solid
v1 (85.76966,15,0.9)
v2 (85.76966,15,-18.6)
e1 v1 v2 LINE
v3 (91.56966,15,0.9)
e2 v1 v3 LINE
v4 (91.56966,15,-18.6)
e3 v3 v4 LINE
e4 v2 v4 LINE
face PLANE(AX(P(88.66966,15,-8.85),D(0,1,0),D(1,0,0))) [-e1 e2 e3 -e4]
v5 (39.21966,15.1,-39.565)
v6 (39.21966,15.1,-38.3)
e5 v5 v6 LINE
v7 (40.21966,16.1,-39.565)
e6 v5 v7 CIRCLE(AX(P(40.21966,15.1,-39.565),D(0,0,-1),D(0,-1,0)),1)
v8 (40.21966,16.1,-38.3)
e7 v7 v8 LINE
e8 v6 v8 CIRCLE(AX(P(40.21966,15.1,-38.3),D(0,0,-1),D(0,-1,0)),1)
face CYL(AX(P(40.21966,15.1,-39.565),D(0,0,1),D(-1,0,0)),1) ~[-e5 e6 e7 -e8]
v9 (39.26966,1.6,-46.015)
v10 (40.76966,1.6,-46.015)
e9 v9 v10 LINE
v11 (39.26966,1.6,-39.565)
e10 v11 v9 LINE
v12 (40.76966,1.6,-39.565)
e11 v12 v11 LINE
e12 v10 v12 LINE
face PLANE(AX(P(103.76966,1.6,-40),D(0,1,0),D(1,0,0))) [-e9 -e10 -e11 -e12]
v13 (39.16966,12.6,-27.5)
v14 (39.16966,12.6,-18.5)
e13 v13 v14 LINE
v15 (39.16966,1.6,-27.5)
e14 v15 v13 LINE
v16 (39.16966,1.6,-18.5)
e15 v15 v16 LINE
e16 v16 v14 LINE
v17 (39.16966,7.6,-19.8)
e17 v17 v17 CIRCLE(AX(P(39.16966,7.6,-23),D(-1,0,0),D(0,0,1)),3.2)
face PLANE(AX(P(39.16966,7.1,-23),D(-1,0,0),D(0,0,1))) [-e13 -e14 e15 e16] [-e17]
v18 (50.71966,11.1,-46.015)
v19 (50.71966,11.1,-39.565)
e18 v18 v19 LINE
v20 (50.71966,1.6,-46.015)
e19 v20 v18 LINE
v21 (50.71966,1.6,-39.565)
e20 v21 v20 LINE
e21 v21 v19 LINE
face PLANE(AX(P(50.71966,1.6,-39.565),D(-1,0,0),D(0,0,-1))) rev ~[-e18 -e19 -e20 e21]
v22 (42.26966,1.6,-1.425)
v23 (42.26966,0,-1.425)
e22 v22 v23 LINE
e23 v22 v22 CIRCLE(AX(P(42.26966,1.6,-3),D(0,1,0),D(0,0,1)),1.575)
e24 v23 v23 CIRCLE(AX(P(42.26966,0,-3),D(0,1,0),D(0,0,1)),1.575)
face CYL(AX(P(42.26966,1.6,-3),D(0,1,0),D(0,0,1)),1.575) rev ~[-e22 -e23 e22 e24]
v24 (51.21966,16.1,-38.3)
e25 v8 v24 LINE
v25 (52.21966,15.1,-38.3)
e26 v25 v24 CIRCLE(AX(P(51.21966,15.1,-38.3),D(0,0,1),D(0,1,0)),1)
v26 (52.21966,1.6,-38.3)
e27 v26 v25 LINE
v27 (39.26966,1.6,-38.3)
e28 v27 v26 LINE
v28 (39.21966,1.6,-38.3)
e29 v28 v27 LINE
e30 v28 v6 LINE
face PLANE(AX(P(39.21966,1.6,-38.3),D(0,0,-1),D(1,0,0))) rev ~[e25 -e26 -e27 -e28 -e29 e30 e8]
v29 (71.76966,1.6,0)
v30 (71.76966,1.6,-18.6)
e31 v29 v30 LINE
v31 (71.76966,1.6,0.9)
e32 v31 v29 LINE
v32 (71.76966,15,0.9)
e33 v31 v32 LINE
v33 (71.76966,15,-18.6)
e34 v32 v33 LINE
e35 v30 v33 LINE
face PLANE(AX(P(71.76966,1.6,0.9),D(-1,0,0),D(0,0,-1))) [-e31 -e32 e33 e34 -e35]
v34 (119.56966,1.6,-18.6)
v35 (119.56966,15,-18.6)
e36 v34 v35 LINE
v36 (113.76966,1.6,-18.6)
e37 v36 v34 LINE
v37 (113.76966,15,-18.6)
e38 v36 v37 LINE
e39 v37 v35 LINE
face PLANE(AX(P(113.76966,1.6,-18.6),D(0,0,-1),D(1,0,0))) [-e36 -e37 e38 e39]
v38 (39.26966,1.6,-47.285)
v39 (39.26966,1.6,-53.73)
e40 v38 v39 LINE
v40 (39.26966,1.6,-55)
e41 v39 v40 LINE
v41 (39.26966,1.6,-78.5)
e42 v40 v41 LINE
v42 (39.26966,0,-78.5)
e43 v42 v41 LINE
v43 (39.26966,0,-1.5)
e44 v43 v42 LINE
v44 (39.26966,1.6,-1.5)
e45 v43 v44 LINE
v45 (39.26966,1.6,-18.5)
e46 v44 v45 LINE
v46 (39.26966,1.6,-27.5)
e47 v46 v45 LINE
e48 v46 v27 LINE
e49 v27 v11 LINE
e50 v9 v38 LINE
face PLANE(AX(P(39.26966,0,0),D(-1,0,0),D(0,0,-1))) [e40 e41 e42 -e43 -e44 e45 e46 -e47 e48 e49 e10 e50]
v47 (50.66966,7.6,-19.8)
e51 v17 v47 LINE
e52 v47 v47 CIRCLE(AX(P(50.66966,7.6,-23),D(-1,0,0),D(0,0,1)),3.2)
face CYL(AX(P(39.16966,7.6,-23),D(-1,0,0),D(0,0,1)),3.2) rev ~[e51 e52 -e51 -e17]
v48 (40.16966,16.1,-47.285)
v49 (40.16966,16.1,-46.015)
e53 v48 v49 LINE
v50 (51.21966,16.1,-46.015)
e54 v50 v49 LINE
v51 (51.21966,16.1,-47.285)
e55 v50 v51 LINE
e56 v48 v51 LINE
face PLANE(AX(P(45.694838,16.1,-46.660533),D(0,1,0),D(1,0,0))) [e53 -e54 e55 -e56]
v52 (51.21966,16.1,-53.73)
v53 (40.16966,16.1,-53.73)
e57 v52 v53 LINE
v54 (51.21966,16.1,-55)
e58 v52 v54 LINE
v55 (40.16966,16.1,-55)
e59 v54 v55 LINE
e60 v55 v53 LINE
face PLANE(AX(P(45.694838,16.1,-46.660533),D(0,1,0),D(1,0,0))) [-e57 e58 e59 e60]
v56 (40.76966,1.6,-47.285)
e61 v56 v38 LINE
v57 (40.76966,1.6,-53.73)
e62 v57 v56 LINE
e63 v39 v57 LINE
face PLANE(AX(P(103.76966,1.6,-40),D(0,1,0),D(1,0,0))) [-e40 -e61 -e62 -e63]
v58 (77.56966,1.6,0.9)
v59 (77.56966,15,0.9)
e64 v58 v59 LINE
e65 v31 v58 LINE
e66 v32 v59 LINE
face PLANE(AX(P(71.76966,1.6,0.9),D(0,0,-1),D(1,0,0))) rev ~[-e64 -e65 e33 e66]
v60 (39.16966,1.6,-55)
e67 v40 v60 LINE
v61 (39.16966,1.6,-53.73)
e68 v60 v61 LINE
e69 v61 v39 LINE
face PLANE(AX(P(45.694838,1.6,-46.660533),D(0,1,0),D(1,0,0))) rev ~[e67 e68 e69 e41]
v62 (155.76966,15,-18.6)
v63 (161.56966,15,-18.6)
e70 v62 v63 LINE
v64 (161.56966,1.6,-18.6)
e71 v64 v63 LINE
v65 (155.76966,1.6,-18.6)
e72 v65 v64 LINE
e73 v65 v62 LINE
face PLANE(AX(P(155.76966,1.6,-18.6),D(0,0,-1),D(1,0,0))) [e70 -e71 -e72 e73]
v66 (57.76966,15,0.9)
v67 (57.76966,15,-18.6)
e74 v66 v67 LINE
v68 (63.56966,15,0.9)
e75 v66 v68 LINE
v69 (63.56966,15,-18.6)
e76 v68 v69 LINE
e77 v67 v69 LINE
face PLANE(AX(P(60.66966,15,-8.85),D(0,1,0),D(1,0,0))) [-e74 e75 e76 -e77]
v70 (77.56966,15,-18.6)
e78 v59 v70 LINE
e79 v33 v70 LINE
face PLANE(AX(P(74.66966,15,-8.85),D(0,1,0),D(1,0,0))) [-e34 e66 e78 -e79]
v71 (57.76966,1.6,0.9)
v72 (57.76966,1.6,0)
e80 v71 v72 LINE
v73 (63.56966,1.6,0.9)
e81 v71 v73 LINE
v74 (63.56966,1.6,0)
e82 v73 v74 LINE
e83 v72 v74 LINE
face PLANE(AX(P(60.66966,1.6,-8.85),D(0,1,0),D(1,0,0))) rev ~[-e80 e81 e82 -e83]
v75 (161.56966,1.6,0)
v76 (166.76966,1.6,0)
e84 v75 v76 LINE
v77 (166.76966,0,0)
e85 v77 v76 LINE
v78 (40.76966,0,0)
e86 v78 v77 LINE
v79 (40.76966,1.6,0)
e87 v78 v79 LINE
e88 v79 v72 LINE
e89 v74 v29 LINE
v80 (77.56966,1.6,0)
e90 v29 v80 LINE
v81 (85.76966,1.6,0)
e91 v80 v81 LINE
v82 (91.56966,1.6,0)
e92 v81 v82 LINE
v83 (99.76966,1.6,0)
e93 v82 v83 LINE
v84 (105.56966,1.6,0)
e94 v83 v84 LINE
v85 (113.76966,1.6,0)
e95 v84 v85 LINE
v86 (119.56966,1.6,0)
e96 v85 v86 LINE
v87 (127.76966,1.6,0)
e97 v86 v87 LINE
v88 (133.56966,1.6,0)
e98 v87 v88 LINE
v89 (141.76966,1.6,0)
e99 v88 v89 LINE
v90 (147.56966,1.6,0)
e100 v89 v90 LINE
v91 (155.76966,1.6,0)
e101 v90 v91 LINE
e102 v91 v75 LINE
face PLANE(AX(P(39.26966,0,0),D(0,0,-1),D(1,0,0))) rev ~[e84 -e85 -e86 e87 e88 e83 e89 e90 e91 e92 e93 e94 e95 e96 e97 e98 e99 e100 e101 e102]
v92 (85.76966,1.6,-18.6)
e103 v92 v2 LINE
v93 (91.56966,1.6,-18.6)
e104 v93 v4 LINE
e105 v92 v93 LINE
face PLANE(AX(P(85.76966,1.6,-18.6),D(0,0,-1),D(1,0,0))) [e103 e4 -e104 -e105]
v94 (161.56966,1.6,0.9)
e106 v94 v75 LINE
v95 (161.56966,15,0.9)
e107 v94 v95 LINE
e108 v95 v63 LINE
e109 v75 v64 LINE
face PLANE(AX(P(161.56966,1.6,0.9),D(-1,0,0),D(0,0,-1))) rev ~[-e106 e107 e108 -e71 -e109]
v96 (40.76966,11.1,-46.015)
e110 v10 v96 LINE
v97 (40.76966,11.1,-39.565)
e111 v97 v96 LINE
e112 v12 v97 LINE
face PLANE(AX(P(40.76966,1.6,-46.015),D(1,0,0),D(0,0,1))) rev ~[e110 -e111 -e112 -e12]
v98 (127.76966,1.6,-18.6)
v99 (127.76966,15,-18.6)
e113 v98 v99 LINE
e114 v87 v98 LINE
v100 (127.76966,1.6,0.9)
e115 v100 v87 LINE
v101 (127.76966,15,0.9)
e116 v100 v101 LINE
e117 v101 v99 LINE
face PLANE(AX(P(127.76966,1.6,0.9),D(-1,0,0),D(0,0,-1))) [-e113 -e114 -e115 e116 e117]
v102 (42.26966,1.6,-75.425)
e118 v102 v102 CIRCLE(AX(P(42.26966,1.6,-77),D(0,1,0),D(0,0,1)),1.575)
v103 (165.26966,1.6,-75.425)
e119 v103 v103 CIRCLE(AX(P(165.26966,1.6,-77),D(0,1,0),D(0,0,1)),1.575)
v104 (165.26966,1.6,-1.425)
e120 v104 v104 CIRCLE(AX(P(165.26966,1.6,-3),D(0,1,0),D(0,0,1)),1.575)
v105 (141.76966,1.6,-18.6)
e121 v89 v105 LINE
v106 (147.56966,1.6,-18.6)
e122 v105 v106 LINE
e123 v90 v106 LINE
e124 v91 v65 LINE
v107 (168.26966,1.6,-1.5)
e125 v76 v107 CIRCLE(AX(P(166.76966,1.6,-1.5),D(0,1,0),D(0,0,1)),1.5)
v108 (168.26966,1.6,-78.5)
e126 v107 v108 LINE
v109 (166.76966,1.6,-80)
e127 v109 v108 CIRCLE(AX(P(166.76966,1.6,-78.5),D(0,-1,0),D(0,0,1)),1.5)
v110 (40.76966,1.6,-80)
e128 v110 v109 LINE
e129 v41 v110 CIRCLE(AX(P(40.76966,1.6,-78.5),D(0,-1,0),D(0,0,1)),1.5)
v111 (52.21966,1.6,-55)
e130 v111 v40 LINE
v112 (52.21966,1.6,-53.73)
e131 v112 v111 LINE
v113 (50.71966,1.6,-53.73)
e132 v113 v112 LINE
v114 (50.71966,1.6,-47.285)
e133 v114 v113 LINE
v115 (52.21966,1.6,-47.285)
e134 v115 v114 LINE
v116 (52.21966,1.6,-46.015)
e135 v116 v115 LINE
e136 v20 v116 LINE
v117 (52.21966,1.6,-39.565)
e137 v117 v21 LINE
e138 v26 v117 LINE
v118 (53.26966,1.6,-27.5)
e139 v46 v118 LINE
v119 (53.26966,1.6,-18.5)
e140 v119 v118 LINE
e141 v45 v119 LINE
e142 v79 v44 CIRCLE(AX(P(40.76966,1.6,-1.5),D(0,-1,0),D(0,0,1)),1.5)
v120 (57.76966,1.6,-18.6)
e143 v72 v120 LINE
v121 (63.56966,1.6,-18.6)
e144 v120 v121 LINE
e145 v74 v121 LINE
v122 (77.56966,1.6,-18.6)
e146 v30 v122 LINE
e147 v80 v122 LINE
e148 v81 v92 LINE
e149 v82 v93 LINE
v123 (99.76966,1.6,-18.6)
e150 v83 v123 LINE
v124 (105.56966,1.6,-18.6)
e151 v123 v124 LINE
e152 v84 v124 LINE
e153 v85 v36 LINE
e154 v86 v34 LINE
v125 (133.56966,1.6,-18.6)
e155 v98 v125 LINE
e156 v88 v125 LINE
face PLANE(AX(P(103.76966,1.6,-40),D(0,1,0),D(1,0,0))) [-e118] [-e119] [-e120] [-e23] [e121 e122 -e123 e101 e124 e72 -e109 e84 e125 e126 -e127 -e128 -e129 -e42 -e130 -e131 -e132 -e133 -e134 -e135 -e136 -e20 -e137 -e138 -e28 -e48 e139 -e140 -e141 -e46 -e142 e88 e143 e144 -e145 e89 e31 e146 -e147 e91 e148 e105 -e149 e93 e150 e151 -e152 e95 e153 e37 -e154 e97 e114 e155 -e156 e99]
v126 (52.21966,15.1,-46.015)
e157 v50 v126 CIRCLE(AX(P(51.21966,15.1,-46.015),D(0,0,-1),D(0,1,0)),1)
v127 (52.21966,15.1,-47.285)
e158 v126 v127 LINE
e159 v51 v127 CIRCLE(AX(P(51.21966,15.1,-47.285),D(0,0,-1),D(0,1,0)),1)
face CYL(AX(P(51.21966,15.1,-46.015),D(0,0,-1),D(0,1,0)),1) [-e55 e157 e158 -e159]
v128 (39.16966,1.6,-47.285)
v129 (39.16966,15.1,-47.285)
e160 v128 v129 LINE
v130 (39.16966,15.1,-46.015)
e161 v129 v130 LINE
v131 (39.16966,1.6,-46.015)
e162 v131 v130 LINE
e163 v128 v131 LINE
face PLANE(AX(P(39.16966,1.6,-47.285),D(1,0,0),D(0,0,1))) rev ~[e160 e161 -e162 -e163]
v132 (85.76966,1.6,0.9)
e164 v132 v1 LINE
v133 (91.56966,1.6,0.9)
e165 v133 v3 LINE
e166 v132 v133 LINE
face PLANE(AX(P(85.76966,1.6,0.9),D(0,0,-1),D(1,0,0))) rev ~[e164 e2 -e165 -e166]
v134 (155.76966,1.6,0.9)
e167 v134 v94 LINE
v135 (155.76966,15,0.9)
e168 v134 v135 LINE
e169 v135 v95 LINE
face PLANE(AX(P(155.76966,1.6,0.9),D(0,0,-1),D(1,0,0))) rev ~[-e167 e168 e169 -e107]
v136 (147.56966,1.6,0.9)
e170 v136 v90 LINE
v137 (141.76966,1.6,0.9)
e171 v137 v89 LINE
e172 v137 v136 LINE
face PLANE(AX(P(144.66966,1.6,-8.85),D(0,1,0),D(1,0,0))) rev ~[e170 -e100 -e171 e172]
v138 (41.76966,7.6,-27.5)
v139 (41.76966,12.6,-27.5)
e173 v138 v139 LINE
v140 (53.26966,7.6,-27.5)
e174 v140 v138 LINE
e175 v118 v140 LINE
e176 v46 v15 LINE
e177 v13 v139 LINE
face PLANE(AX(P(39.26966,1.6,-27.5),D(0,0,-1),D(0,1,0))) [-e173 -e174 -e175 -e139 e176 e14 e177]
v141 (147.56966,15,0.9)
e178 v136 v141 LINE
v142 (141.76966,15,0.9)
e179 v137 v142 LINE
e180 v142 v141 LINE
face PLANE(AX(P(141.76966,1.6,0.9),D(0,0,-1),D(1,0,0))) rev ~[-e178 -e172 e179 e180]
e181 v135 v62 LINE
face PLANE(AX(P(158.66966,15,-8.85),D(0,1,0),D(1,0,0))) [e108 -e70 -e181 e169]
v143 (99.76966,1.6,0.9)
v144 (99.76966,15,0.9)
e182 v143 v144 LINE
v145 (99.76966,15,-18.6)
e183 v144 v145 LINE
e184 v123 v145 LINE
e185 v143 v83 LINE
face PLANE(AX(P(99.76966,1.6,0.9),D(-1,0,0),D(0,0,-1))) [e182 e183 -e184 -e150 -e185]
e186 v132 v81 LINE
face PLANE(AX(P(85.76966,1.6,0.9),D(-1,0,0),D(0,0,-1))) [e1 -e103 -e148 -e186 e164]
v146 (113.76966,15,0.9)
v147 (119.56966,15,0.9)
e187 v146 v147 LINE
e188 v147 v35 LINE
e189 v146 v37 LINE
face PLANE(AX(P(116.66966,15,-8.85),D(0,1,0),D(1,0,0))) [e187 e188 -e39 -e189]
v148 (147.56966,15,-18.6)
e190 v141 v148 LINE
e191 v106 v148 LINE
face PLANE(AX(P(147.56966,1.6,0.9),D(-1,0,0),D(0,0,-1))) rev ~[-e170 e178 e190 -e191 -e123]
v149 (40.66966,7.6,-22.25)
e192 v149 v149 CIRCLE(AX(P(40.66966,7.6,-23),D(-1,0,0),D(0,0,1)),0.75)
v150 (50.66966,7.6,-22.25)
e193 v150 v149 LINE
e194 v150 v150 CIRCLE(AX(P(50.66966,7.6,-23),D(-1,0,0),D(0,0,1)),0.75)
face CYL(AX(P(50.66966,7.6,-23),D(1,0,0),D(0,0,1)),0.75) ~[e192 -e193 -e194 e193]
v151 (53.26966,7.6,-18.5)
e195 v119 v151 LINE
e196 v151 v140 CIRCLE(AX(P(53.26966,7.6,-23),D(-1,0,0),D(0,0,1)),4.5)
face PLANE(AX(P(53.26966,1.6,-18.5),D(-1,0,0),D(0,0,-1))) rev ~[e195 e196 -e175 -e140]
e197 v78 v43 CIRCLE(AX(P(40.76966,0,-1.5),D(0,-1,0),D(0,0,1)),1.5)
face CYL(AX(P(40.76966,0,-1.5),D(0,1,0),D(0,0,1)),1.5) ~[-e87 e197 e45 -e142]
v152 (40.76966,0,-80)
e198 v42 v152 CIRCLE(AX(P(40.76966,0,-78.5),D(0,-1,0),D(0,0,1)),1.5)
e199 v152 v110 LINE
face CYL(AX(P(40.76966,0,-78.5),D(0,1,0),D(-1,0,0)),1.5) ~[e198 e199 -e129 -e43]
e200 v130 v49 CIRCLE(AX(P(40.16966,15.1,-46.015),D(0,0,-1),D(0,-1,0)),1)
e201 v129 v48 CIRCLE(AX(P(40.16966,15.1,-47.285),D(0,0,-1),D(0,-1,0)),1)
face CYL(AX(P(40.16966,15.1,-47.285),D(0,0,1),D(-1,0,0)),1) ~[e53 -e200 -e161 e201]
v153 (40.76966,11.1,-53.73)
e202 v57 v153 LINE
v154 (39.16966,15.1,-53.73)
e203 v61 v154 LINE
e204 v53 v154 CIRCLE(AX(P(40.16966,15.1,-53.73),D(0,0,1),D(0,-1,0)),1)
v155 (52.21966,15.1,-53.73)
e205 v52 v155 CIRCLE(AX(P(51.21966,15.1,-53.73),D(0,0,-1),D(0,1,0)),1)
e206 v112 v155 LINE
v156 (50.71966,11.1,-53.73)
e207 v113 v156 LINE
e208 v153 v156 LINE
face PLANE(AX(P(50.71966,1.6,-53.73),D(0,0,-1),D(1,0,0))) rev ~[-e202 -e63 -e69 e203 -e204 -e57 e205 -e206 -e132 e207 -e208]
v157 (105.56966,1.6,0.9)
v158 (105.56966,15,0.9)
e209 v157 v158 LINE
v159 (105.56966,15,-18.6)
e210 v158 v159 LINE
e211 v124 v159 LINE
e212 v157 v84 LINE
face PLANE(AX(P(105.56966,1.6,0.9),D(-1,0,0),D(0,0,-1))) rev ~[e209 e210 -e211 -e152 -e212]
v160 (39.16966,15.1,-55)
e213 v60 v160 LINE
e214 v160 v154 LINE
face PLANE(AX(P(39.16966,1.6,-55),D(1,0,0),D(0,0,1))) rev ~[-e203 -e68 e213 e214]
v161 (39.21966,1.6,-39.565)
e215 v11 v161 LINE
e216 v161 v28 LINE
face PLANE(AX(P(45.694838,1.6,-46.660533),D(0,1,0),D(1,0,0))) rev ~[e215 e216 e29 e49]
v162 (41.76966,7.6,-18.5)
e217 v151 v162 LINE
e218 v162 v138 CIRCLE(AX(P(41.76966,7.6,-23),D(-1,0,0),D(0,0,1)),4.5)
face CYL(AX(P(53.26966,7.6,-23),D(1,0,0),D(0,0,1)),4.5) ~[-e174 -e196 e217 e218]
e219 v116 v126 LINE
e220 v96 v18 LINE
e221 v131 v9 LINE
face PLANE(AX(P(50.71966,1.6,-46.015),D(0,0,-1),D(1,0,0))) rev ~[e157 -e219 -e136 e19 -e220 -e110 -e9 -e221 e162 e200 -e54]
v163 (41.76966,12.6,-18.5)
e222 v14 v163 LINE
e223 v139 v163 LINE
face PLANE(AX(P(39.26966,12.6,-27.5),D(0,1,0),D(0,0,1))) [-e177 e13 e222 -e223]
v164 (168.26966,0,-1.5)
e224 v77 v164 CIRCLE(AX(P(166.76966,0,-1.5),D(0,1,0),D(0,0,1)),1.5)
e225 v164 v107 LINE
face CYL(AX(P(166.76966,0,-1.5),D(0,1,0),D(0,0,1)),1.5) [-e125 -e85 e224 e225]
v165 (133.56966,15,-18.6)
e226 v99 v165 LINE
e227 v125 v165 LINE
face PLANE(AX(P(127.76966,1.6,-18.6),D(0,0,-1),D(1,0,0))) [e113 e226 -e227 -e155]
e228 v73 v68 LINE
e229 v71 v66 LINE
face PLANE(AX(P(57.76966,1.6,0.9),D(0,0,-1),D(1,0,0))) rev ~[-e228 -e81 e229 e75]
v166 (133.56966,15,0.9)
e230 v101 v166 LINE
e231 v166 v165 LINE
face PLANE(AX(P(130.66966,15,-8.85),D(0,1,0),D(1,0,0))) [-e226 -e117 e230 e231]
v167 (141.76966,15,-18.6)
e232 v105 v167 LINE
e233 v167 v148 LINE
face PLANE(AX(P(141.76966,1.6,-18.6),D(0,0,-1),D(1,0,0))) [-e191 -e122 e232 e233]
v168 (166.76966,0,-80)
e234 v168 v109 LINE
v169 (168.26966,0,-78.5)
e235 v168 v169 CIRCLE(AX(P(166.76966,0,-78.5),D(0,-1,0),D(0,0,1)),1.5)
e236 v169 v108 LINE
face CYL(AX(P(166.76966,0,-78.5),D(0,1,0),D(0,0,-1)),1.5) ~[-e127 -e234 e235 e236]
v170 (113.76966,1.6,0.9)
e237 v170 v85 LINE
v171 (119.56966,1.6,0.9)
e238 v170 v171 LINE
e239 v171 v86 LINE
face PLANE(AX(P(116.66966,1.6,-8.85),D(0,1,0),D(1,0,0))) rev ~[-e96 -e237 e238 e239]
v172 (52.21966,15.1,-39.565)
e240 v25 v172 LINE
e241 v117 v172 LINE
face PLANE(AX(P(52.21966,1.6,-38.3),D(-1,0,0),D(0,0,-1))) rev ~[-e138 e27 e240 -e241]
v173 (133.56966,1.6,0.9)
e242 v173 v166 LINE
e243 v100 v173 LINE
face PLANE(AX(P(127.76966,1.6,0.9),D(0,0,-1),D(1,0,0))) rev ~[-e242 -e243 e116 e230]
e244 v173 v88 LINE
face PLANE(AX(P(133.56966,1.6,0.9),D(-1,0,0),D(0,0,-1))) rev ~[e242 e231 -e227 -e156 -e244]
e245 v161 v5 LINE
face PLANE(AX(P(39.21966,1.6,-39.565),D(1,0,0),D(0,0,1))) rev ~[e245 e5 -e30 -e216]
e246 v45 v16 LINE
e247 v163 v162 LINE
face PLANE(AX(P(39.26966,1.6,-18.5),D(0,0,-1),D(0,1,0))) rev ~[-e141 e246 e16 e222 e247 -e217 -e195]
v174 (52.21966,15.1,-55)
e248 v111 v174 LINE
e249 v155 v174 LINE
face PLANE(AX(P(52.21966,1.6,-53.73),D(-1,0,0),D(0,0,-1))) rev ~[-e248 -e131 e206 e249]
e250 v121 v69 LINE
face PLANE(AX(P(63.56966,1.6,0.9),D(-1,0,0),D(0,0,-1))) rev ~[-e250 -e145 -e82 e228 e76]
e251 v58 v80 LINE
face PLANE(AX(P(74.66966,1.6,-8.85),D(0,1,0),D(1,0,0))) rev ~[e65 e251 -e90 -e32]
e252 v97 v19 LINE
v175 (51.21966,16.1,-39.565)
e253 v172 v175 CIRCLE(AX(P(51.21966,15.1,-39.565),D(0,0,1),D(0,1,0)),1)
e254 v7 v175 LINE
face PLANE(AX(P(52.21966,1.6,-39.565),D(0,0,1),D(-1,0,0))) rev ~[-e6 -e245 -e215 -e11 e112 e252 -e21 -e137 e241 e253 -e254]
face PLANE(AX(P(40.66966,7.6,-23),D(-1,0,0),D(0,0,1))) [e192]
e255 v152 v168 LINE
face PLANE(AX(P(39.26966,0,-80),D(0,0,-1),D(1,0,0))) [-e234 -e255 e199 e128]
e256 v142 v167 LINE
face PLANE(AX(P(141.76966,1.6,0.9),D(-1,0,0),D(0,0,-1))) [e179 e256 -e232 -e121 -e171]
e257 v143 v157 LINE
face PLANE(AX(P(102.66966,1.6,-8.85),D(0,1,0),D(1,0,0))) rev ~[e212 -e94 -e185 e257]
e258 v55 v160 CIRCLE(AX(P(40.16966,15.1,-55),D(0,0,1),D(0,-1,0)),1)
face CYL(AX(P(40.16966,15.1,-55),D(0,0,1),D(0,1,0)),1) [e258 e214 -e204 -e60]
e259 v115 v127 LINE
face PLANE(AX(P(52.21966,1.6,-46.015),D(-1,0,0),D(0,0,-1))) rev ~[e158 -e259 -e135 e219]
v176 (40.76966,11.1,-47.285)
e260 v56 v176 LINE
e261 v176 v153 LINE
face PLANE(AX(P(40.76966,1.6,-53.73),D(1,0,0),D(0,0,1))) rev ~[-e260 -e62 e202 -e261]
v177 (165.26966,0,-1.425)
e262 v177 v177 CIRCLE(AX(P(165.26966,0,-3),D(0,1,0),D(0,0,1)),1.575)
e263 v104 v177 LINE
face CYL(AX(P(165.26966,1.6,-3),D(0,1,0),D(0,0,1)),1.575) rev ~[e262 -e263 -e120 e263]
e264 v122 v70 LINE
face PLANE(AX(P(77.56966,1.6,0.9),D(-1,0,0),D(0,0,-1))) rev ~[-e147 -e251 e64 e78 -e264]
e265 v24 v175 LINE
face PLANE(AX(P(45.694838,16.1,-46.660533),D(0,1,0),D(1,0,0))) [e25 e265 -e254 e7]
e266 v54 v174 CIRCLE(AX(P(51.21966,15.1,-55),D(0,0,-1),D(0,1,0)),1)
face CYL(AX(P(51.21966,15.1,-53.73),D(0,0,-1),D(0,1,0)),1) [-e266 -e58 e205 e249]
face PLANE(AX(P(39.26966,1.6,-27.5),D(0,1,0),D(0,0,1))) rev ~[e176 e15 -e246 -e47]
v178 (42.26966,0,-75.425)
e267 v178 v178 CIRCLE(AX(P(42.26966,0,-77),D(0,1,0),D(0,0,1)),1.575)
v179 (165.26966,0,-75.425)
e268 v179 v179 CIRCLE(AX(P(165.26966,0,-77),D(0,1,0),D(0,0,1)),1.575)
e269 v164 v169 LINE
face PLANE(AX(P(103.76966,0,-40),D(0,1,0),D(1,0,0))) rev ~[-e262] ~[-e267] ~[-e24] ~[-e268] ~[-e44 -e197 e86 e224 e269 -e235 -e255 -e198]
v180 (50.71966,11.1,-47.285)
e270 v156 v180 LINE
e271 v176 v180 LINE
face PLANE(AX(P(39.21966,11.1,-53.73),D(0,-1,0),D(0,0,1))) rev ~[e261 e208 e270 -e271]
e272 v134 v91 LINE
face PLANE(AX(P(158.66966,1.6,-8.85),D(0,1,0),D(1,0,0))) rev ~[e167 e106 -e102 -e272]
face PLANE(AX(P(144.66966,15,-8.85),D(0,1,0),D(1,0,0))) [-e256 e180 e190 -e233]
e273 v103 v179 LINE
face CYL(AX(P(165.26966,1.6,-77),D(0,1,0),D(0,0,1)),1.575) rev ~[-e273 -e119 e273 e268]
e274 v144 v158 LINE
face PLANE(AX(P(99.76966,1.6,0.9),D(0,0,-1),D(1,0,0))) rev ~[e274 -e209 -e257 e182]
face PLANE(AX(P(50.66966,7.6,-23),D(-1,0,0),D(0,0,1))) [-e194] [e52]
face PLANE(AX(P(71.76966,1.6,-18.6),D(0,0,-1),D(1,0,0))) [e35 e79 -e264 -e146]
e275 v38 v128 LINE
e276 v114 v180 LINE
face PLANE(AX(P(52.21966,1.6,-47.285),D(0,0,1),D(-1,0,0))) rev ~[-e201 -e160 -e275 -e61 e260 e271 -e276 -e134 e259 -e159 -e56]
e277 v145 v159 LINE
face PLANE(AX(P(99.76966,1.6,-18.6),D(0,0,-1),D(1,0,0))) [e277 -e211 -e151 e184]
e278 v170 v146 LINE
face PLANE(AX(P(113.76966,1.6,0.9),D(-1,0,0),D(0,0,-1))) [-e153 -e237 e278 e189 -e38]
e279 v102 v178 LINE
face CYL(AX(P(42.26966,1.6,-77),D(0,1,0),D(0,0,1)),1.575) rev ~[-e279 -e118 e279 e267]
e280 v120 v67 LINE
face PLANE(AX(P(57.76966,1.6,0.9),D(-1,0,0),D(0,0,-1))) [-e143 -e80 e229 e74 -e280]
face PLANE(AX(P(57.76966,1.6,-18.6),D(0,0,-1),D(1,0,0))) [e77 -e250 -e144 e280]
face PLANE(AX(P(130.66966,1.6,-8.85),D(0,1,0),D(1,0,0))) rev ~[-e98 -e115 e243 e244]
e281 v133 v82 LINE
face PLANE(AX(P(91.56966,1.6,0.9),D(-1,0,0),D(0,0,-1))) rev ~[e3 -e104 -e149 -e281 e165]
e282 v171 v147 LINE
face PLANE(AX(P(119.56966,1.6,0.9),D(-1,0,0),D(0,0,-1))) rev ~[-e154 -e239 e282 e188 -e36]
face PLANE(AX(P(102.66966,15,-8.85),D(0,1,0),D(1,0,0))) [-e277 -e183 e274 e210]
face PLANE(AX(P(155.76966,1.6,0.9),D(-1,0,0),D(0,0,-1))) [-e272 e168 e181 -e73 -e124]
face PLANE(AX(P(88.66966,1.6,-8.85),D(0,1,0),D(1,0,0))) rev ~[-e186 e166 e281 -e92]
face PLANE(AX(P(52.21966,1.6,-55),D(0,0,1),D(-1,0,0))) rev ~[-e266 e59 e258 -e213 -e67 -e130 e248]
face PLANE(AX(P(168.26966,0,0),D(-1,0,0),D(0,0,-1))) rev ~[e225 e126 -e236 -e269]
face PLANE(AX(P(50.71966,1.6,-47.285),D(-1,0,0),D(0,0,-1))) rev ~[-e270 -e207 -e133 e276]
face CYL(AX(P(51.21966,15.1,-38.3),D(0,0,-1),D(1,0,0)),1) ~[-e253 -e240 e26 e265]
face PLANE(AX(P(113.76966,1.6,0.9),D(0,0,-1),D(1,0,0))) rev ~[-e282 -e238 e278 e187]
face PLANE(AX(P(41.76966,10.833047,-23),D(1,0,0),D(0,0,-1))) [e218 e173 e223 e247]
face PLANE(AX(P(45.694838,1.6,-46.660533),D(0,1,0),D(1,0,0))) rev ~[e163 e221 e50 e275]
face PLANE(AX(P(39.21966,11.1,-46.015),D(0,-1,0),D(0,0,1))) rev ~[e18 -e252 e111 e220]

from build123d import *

# Parameters (mm, degrees)
SKETCH_1_W          = 129
SKETCH_1_H          = 80
EXTRUDE_1_DEPTH     = 1.6
SKETCH_2_R          = 1.575
CUT_EXTRUDE_1_DEPTH = 187.325625148
SKETCH_3_W          = 5.8
SKETCH_3_H          = 19.5
EXTRUDE_2_DEPTH     = 13.4
FILLET_1_R          = 1.5
SKETCH_4_W          = 14
SKETCH_4_H          = 9
EXTRUDE_3_DEPTH     = 11
SKETCH_5_W          = 9
SKETCH_5_H          = 11
EXTRUDE_4_DEPTH     = 0.1
CUT_EXTRUDE_2_DEPTH = 11.5
SKETCH_7_R          = 3.2
CUT_EXTRUDE_3_DEPTH = 11.5
SKETCH_8_R          = 0.75
EXTRUDE_5_DEPTH     = 10
EXTRUDE_6_DEPTH     = 14.5
SKETCH_10_W         = 6.45
SKETCH_10_H         = 5
SKETCH_10_W_2       = 6.445
CUT_EXTRUDE_4_DEPTH = 14.5
FILLET_2_R          = 1


with BuildPart() as part:
    # 草图1 → 凸台-拉伸1 (new body)
    with BuildSketch(Plane(origin=(0, 0, 0), x_dir=(1, 0, 0), z_dir=(0, 1, 0))):
        with Locations((103.769660327, 40)):
            Rectangle(SKETCH_1_W, SKETCH_1_H)
    extrude(amount=EXTRUDE_1_DEPTH)

    # 草图2 → 切除-拉伸1 (cut, through all)
    with BuildSketch(Plane(origin=(0, 1.6, 0), x_dir=(1, 0, 0), z_dir=(0, 1, 0))):
        with Locations(Location((42.269660327, 77, 0), (0, 0, 270))):
            Circle(SKETCH_2_R)
        with Locations(Location((42.269660327, 3, 0), (0, 0, 270))):
            Circle(SKETCH_2_R)
        with Locations(Location((165.269660327, 3, 0), (0, 0, 270))):
            Circle(SKETCH_2_R)
        with Locations(Location((165.269660327, 77, 0), (0, 0, 270))):
            Circle(SKETCH_2_R)
    extrude(amount=-CUT_EXTRUDE_1_DEPTH, mode=Mode.SUBTRACT)

    # 草图3 → 凸台-拉伸2 (add)
    with BuildSketch(Plane(origin=(0, 1.6, 0), x_dir=(1, 0, 0), z_dir=(0, 1, 0))):
        with Locations((158.669660327, 8.85)):
            Rectangle(SKETCH_3_W, SKETCH_3_H)
        with Locations((144.669660327, 8.85)):
            Rectangle(SKETCH_3_W, SKETCH_3_H)
        with Locations((130.669660327, 8.85)):
            Rectangle(SKETCH_3_W, SKETCH_3_H)
        with Locations((116.669660327, 8.85)):
            Rectangle(SKETCH_3_W, SKETCH_3_H)
        with Locations((102.669660327, 8.85)):
            Rectangle(SKETCH_3_W, SKETCH_3_H)
        with Locations((88.669660327, 8.85)):
            Rectangle(SKETCH_3_W, SKETCH_3_H)
        with Locations((74.669660327, 8.85)):
            Rectangle(SKETCH_3_W, SKETCH_3_H)
        with Locations((60.669660327, 8.85)):
            Rectangle(SKETCH_3_W, SKETCH_3_H)
    extrude(amount=EXTRUDE_2_DEPTH)

    # 圆角1
    fillet_1_edges = [part.edges().sort_by_distance(p)[0] for p in [
        (168.269660327, 0.8, -80),
        (168.269660327, 0.8, 0),
        (39.269660327, 0.8, 0),
        (39.269660327, 0.8, -80),
    ]]
    fillet(fillet_1_edges, radius=FILLET_1_R)

    # 草图4 → 凸台-拉伸3 (add)
    with BuildSketch(Plane(origin=(0, 1.6, 0), x_dir=(1, 0, 0), z_dir=(0, 1, 0))):
        with Locations((46.269660327, 23)):
            Rectangle(SKETCH_4_W, SKETCH_4_H)
    extrude(amount=EXTRUDE_3_DEPTH)

    # 草图5 → 凸台-拉伸4 (add)
    with BuildSketch(Plane.ZY.offset(-39.269660327)):
        with Locations((-23, 7.1)):
            Rectangle(SKETCH_5_W, SKETCH_5_H)
    extrude(amount=EXTRUDE_4_DEPTH)

    # 草图6 → 切除-拉伸2 (cut)
    with BuildSketch(Plane(origin=(53.269660327, 0, 0), x_dir=(0, 0, -1), z_dir=(1, 0, 0))):
        with BuildLine():
            Line((18.5, 12.6), (18.5, 7.6))
            ThreePointArc((18.5, 7.6), (23, 12.1), (27.5, 7.6))
            Line((27.5, 7.6), (27.5, 12.6))
            Line((27.5, 12.6), (18.5, 12.6))
        make_face()
    extrude(amount=-CUT_EXTRUDE_2_DEPTH, mode=Mode.SUBTRACT)

    # 草图7 → 切除-拉伸3 (cut)
    with BuildSketch(Plane.ZY.offset(-39.169660327)):
        with Locations((-23, 7.6)):
            Circle(SKETCH_7_R)
    extrude(amount=-CUT_EXTRUDE_3_DEPTH, mode=Mode.SUBTRACT)

    # 草图8 → 凸台-拉伸5 (add)
    with BuildSketch(Plane.ZY.offset(-50.669660327)):
        with Locations((-23, 7.6)):
            Circle(SKETCH_8_R)
    extrude(amount=EXTRUDE_5_DEPTH)

    # 草图9 → 凸台-拉伸6 (add)
    with BuildSketch(Plane(origin=(0, 1.6, 0), x_dir=(1, 0, 0), z_dir=(0, 1, 0))):
        Polygon((39.269660327, 38.3), (52.219660327, 38.3), (52.219660327, 39.565), (50.719660327, 39.565), (50.719660327, 46.015), (52.219660327, 46.015), (52.219660327, 47.285), (50.719660327, 47.285), (50.719660327, 53.73), (52.219660327, 53.73), (52.219660327, 55), (39.269660327, 55), (39.169660327, 55), (39.169660327, 53.73), (39.269660327, 53.73), (40.769660327, 53.73), (40.769660327, 47.285), (39.269660327, 47.285), (39.169660327, 47.285), (39.169660327, 46.015), (39.269660327, 46.015), (40.769660327, 46.015), (40.769660327, 39.565), (39.269660327, 39.565), (39.219660327, 39.565), (39.219660327, 38.3), align=None)
    extrude(amount=EXTRUDE_6_DEPTH)

    # 草图10 → 切除-拉伸4 (cut)
    with BuildSketch(Plane.ZY.offset(-39.219660327)):
        with Locations((-42.79, 13.6)):
            Rectangle(SKETCH_10_W, SKETCH_10_H)
        with Locations((-50.5075, 13.6)):
            Rectangle(SKETCH_10_W_2, SKETCH_10_H)
    extrude(amount=-CUT_EXTRUDE_4_DEPTH, mode=Mode.SUBTRACT)

    # 圆角2
    fillet_2_edges = [part.edges().sort_by_distance(p)[0] for p in [
        (39.169660327, 16.1, -46.65),
        (39.219660327, 16.1, -38.9325),
        (52.219660327, 16.1, -38.9325),
        (52.219660327, 16.1, -46.65),
        (52.219660327, 16.1, -54.365),
        (39.169660327, 16.1, -54.365),
    ]]
    fillet(fillet_2_edges, radius=FILLET_2_R)


solid = part.part
